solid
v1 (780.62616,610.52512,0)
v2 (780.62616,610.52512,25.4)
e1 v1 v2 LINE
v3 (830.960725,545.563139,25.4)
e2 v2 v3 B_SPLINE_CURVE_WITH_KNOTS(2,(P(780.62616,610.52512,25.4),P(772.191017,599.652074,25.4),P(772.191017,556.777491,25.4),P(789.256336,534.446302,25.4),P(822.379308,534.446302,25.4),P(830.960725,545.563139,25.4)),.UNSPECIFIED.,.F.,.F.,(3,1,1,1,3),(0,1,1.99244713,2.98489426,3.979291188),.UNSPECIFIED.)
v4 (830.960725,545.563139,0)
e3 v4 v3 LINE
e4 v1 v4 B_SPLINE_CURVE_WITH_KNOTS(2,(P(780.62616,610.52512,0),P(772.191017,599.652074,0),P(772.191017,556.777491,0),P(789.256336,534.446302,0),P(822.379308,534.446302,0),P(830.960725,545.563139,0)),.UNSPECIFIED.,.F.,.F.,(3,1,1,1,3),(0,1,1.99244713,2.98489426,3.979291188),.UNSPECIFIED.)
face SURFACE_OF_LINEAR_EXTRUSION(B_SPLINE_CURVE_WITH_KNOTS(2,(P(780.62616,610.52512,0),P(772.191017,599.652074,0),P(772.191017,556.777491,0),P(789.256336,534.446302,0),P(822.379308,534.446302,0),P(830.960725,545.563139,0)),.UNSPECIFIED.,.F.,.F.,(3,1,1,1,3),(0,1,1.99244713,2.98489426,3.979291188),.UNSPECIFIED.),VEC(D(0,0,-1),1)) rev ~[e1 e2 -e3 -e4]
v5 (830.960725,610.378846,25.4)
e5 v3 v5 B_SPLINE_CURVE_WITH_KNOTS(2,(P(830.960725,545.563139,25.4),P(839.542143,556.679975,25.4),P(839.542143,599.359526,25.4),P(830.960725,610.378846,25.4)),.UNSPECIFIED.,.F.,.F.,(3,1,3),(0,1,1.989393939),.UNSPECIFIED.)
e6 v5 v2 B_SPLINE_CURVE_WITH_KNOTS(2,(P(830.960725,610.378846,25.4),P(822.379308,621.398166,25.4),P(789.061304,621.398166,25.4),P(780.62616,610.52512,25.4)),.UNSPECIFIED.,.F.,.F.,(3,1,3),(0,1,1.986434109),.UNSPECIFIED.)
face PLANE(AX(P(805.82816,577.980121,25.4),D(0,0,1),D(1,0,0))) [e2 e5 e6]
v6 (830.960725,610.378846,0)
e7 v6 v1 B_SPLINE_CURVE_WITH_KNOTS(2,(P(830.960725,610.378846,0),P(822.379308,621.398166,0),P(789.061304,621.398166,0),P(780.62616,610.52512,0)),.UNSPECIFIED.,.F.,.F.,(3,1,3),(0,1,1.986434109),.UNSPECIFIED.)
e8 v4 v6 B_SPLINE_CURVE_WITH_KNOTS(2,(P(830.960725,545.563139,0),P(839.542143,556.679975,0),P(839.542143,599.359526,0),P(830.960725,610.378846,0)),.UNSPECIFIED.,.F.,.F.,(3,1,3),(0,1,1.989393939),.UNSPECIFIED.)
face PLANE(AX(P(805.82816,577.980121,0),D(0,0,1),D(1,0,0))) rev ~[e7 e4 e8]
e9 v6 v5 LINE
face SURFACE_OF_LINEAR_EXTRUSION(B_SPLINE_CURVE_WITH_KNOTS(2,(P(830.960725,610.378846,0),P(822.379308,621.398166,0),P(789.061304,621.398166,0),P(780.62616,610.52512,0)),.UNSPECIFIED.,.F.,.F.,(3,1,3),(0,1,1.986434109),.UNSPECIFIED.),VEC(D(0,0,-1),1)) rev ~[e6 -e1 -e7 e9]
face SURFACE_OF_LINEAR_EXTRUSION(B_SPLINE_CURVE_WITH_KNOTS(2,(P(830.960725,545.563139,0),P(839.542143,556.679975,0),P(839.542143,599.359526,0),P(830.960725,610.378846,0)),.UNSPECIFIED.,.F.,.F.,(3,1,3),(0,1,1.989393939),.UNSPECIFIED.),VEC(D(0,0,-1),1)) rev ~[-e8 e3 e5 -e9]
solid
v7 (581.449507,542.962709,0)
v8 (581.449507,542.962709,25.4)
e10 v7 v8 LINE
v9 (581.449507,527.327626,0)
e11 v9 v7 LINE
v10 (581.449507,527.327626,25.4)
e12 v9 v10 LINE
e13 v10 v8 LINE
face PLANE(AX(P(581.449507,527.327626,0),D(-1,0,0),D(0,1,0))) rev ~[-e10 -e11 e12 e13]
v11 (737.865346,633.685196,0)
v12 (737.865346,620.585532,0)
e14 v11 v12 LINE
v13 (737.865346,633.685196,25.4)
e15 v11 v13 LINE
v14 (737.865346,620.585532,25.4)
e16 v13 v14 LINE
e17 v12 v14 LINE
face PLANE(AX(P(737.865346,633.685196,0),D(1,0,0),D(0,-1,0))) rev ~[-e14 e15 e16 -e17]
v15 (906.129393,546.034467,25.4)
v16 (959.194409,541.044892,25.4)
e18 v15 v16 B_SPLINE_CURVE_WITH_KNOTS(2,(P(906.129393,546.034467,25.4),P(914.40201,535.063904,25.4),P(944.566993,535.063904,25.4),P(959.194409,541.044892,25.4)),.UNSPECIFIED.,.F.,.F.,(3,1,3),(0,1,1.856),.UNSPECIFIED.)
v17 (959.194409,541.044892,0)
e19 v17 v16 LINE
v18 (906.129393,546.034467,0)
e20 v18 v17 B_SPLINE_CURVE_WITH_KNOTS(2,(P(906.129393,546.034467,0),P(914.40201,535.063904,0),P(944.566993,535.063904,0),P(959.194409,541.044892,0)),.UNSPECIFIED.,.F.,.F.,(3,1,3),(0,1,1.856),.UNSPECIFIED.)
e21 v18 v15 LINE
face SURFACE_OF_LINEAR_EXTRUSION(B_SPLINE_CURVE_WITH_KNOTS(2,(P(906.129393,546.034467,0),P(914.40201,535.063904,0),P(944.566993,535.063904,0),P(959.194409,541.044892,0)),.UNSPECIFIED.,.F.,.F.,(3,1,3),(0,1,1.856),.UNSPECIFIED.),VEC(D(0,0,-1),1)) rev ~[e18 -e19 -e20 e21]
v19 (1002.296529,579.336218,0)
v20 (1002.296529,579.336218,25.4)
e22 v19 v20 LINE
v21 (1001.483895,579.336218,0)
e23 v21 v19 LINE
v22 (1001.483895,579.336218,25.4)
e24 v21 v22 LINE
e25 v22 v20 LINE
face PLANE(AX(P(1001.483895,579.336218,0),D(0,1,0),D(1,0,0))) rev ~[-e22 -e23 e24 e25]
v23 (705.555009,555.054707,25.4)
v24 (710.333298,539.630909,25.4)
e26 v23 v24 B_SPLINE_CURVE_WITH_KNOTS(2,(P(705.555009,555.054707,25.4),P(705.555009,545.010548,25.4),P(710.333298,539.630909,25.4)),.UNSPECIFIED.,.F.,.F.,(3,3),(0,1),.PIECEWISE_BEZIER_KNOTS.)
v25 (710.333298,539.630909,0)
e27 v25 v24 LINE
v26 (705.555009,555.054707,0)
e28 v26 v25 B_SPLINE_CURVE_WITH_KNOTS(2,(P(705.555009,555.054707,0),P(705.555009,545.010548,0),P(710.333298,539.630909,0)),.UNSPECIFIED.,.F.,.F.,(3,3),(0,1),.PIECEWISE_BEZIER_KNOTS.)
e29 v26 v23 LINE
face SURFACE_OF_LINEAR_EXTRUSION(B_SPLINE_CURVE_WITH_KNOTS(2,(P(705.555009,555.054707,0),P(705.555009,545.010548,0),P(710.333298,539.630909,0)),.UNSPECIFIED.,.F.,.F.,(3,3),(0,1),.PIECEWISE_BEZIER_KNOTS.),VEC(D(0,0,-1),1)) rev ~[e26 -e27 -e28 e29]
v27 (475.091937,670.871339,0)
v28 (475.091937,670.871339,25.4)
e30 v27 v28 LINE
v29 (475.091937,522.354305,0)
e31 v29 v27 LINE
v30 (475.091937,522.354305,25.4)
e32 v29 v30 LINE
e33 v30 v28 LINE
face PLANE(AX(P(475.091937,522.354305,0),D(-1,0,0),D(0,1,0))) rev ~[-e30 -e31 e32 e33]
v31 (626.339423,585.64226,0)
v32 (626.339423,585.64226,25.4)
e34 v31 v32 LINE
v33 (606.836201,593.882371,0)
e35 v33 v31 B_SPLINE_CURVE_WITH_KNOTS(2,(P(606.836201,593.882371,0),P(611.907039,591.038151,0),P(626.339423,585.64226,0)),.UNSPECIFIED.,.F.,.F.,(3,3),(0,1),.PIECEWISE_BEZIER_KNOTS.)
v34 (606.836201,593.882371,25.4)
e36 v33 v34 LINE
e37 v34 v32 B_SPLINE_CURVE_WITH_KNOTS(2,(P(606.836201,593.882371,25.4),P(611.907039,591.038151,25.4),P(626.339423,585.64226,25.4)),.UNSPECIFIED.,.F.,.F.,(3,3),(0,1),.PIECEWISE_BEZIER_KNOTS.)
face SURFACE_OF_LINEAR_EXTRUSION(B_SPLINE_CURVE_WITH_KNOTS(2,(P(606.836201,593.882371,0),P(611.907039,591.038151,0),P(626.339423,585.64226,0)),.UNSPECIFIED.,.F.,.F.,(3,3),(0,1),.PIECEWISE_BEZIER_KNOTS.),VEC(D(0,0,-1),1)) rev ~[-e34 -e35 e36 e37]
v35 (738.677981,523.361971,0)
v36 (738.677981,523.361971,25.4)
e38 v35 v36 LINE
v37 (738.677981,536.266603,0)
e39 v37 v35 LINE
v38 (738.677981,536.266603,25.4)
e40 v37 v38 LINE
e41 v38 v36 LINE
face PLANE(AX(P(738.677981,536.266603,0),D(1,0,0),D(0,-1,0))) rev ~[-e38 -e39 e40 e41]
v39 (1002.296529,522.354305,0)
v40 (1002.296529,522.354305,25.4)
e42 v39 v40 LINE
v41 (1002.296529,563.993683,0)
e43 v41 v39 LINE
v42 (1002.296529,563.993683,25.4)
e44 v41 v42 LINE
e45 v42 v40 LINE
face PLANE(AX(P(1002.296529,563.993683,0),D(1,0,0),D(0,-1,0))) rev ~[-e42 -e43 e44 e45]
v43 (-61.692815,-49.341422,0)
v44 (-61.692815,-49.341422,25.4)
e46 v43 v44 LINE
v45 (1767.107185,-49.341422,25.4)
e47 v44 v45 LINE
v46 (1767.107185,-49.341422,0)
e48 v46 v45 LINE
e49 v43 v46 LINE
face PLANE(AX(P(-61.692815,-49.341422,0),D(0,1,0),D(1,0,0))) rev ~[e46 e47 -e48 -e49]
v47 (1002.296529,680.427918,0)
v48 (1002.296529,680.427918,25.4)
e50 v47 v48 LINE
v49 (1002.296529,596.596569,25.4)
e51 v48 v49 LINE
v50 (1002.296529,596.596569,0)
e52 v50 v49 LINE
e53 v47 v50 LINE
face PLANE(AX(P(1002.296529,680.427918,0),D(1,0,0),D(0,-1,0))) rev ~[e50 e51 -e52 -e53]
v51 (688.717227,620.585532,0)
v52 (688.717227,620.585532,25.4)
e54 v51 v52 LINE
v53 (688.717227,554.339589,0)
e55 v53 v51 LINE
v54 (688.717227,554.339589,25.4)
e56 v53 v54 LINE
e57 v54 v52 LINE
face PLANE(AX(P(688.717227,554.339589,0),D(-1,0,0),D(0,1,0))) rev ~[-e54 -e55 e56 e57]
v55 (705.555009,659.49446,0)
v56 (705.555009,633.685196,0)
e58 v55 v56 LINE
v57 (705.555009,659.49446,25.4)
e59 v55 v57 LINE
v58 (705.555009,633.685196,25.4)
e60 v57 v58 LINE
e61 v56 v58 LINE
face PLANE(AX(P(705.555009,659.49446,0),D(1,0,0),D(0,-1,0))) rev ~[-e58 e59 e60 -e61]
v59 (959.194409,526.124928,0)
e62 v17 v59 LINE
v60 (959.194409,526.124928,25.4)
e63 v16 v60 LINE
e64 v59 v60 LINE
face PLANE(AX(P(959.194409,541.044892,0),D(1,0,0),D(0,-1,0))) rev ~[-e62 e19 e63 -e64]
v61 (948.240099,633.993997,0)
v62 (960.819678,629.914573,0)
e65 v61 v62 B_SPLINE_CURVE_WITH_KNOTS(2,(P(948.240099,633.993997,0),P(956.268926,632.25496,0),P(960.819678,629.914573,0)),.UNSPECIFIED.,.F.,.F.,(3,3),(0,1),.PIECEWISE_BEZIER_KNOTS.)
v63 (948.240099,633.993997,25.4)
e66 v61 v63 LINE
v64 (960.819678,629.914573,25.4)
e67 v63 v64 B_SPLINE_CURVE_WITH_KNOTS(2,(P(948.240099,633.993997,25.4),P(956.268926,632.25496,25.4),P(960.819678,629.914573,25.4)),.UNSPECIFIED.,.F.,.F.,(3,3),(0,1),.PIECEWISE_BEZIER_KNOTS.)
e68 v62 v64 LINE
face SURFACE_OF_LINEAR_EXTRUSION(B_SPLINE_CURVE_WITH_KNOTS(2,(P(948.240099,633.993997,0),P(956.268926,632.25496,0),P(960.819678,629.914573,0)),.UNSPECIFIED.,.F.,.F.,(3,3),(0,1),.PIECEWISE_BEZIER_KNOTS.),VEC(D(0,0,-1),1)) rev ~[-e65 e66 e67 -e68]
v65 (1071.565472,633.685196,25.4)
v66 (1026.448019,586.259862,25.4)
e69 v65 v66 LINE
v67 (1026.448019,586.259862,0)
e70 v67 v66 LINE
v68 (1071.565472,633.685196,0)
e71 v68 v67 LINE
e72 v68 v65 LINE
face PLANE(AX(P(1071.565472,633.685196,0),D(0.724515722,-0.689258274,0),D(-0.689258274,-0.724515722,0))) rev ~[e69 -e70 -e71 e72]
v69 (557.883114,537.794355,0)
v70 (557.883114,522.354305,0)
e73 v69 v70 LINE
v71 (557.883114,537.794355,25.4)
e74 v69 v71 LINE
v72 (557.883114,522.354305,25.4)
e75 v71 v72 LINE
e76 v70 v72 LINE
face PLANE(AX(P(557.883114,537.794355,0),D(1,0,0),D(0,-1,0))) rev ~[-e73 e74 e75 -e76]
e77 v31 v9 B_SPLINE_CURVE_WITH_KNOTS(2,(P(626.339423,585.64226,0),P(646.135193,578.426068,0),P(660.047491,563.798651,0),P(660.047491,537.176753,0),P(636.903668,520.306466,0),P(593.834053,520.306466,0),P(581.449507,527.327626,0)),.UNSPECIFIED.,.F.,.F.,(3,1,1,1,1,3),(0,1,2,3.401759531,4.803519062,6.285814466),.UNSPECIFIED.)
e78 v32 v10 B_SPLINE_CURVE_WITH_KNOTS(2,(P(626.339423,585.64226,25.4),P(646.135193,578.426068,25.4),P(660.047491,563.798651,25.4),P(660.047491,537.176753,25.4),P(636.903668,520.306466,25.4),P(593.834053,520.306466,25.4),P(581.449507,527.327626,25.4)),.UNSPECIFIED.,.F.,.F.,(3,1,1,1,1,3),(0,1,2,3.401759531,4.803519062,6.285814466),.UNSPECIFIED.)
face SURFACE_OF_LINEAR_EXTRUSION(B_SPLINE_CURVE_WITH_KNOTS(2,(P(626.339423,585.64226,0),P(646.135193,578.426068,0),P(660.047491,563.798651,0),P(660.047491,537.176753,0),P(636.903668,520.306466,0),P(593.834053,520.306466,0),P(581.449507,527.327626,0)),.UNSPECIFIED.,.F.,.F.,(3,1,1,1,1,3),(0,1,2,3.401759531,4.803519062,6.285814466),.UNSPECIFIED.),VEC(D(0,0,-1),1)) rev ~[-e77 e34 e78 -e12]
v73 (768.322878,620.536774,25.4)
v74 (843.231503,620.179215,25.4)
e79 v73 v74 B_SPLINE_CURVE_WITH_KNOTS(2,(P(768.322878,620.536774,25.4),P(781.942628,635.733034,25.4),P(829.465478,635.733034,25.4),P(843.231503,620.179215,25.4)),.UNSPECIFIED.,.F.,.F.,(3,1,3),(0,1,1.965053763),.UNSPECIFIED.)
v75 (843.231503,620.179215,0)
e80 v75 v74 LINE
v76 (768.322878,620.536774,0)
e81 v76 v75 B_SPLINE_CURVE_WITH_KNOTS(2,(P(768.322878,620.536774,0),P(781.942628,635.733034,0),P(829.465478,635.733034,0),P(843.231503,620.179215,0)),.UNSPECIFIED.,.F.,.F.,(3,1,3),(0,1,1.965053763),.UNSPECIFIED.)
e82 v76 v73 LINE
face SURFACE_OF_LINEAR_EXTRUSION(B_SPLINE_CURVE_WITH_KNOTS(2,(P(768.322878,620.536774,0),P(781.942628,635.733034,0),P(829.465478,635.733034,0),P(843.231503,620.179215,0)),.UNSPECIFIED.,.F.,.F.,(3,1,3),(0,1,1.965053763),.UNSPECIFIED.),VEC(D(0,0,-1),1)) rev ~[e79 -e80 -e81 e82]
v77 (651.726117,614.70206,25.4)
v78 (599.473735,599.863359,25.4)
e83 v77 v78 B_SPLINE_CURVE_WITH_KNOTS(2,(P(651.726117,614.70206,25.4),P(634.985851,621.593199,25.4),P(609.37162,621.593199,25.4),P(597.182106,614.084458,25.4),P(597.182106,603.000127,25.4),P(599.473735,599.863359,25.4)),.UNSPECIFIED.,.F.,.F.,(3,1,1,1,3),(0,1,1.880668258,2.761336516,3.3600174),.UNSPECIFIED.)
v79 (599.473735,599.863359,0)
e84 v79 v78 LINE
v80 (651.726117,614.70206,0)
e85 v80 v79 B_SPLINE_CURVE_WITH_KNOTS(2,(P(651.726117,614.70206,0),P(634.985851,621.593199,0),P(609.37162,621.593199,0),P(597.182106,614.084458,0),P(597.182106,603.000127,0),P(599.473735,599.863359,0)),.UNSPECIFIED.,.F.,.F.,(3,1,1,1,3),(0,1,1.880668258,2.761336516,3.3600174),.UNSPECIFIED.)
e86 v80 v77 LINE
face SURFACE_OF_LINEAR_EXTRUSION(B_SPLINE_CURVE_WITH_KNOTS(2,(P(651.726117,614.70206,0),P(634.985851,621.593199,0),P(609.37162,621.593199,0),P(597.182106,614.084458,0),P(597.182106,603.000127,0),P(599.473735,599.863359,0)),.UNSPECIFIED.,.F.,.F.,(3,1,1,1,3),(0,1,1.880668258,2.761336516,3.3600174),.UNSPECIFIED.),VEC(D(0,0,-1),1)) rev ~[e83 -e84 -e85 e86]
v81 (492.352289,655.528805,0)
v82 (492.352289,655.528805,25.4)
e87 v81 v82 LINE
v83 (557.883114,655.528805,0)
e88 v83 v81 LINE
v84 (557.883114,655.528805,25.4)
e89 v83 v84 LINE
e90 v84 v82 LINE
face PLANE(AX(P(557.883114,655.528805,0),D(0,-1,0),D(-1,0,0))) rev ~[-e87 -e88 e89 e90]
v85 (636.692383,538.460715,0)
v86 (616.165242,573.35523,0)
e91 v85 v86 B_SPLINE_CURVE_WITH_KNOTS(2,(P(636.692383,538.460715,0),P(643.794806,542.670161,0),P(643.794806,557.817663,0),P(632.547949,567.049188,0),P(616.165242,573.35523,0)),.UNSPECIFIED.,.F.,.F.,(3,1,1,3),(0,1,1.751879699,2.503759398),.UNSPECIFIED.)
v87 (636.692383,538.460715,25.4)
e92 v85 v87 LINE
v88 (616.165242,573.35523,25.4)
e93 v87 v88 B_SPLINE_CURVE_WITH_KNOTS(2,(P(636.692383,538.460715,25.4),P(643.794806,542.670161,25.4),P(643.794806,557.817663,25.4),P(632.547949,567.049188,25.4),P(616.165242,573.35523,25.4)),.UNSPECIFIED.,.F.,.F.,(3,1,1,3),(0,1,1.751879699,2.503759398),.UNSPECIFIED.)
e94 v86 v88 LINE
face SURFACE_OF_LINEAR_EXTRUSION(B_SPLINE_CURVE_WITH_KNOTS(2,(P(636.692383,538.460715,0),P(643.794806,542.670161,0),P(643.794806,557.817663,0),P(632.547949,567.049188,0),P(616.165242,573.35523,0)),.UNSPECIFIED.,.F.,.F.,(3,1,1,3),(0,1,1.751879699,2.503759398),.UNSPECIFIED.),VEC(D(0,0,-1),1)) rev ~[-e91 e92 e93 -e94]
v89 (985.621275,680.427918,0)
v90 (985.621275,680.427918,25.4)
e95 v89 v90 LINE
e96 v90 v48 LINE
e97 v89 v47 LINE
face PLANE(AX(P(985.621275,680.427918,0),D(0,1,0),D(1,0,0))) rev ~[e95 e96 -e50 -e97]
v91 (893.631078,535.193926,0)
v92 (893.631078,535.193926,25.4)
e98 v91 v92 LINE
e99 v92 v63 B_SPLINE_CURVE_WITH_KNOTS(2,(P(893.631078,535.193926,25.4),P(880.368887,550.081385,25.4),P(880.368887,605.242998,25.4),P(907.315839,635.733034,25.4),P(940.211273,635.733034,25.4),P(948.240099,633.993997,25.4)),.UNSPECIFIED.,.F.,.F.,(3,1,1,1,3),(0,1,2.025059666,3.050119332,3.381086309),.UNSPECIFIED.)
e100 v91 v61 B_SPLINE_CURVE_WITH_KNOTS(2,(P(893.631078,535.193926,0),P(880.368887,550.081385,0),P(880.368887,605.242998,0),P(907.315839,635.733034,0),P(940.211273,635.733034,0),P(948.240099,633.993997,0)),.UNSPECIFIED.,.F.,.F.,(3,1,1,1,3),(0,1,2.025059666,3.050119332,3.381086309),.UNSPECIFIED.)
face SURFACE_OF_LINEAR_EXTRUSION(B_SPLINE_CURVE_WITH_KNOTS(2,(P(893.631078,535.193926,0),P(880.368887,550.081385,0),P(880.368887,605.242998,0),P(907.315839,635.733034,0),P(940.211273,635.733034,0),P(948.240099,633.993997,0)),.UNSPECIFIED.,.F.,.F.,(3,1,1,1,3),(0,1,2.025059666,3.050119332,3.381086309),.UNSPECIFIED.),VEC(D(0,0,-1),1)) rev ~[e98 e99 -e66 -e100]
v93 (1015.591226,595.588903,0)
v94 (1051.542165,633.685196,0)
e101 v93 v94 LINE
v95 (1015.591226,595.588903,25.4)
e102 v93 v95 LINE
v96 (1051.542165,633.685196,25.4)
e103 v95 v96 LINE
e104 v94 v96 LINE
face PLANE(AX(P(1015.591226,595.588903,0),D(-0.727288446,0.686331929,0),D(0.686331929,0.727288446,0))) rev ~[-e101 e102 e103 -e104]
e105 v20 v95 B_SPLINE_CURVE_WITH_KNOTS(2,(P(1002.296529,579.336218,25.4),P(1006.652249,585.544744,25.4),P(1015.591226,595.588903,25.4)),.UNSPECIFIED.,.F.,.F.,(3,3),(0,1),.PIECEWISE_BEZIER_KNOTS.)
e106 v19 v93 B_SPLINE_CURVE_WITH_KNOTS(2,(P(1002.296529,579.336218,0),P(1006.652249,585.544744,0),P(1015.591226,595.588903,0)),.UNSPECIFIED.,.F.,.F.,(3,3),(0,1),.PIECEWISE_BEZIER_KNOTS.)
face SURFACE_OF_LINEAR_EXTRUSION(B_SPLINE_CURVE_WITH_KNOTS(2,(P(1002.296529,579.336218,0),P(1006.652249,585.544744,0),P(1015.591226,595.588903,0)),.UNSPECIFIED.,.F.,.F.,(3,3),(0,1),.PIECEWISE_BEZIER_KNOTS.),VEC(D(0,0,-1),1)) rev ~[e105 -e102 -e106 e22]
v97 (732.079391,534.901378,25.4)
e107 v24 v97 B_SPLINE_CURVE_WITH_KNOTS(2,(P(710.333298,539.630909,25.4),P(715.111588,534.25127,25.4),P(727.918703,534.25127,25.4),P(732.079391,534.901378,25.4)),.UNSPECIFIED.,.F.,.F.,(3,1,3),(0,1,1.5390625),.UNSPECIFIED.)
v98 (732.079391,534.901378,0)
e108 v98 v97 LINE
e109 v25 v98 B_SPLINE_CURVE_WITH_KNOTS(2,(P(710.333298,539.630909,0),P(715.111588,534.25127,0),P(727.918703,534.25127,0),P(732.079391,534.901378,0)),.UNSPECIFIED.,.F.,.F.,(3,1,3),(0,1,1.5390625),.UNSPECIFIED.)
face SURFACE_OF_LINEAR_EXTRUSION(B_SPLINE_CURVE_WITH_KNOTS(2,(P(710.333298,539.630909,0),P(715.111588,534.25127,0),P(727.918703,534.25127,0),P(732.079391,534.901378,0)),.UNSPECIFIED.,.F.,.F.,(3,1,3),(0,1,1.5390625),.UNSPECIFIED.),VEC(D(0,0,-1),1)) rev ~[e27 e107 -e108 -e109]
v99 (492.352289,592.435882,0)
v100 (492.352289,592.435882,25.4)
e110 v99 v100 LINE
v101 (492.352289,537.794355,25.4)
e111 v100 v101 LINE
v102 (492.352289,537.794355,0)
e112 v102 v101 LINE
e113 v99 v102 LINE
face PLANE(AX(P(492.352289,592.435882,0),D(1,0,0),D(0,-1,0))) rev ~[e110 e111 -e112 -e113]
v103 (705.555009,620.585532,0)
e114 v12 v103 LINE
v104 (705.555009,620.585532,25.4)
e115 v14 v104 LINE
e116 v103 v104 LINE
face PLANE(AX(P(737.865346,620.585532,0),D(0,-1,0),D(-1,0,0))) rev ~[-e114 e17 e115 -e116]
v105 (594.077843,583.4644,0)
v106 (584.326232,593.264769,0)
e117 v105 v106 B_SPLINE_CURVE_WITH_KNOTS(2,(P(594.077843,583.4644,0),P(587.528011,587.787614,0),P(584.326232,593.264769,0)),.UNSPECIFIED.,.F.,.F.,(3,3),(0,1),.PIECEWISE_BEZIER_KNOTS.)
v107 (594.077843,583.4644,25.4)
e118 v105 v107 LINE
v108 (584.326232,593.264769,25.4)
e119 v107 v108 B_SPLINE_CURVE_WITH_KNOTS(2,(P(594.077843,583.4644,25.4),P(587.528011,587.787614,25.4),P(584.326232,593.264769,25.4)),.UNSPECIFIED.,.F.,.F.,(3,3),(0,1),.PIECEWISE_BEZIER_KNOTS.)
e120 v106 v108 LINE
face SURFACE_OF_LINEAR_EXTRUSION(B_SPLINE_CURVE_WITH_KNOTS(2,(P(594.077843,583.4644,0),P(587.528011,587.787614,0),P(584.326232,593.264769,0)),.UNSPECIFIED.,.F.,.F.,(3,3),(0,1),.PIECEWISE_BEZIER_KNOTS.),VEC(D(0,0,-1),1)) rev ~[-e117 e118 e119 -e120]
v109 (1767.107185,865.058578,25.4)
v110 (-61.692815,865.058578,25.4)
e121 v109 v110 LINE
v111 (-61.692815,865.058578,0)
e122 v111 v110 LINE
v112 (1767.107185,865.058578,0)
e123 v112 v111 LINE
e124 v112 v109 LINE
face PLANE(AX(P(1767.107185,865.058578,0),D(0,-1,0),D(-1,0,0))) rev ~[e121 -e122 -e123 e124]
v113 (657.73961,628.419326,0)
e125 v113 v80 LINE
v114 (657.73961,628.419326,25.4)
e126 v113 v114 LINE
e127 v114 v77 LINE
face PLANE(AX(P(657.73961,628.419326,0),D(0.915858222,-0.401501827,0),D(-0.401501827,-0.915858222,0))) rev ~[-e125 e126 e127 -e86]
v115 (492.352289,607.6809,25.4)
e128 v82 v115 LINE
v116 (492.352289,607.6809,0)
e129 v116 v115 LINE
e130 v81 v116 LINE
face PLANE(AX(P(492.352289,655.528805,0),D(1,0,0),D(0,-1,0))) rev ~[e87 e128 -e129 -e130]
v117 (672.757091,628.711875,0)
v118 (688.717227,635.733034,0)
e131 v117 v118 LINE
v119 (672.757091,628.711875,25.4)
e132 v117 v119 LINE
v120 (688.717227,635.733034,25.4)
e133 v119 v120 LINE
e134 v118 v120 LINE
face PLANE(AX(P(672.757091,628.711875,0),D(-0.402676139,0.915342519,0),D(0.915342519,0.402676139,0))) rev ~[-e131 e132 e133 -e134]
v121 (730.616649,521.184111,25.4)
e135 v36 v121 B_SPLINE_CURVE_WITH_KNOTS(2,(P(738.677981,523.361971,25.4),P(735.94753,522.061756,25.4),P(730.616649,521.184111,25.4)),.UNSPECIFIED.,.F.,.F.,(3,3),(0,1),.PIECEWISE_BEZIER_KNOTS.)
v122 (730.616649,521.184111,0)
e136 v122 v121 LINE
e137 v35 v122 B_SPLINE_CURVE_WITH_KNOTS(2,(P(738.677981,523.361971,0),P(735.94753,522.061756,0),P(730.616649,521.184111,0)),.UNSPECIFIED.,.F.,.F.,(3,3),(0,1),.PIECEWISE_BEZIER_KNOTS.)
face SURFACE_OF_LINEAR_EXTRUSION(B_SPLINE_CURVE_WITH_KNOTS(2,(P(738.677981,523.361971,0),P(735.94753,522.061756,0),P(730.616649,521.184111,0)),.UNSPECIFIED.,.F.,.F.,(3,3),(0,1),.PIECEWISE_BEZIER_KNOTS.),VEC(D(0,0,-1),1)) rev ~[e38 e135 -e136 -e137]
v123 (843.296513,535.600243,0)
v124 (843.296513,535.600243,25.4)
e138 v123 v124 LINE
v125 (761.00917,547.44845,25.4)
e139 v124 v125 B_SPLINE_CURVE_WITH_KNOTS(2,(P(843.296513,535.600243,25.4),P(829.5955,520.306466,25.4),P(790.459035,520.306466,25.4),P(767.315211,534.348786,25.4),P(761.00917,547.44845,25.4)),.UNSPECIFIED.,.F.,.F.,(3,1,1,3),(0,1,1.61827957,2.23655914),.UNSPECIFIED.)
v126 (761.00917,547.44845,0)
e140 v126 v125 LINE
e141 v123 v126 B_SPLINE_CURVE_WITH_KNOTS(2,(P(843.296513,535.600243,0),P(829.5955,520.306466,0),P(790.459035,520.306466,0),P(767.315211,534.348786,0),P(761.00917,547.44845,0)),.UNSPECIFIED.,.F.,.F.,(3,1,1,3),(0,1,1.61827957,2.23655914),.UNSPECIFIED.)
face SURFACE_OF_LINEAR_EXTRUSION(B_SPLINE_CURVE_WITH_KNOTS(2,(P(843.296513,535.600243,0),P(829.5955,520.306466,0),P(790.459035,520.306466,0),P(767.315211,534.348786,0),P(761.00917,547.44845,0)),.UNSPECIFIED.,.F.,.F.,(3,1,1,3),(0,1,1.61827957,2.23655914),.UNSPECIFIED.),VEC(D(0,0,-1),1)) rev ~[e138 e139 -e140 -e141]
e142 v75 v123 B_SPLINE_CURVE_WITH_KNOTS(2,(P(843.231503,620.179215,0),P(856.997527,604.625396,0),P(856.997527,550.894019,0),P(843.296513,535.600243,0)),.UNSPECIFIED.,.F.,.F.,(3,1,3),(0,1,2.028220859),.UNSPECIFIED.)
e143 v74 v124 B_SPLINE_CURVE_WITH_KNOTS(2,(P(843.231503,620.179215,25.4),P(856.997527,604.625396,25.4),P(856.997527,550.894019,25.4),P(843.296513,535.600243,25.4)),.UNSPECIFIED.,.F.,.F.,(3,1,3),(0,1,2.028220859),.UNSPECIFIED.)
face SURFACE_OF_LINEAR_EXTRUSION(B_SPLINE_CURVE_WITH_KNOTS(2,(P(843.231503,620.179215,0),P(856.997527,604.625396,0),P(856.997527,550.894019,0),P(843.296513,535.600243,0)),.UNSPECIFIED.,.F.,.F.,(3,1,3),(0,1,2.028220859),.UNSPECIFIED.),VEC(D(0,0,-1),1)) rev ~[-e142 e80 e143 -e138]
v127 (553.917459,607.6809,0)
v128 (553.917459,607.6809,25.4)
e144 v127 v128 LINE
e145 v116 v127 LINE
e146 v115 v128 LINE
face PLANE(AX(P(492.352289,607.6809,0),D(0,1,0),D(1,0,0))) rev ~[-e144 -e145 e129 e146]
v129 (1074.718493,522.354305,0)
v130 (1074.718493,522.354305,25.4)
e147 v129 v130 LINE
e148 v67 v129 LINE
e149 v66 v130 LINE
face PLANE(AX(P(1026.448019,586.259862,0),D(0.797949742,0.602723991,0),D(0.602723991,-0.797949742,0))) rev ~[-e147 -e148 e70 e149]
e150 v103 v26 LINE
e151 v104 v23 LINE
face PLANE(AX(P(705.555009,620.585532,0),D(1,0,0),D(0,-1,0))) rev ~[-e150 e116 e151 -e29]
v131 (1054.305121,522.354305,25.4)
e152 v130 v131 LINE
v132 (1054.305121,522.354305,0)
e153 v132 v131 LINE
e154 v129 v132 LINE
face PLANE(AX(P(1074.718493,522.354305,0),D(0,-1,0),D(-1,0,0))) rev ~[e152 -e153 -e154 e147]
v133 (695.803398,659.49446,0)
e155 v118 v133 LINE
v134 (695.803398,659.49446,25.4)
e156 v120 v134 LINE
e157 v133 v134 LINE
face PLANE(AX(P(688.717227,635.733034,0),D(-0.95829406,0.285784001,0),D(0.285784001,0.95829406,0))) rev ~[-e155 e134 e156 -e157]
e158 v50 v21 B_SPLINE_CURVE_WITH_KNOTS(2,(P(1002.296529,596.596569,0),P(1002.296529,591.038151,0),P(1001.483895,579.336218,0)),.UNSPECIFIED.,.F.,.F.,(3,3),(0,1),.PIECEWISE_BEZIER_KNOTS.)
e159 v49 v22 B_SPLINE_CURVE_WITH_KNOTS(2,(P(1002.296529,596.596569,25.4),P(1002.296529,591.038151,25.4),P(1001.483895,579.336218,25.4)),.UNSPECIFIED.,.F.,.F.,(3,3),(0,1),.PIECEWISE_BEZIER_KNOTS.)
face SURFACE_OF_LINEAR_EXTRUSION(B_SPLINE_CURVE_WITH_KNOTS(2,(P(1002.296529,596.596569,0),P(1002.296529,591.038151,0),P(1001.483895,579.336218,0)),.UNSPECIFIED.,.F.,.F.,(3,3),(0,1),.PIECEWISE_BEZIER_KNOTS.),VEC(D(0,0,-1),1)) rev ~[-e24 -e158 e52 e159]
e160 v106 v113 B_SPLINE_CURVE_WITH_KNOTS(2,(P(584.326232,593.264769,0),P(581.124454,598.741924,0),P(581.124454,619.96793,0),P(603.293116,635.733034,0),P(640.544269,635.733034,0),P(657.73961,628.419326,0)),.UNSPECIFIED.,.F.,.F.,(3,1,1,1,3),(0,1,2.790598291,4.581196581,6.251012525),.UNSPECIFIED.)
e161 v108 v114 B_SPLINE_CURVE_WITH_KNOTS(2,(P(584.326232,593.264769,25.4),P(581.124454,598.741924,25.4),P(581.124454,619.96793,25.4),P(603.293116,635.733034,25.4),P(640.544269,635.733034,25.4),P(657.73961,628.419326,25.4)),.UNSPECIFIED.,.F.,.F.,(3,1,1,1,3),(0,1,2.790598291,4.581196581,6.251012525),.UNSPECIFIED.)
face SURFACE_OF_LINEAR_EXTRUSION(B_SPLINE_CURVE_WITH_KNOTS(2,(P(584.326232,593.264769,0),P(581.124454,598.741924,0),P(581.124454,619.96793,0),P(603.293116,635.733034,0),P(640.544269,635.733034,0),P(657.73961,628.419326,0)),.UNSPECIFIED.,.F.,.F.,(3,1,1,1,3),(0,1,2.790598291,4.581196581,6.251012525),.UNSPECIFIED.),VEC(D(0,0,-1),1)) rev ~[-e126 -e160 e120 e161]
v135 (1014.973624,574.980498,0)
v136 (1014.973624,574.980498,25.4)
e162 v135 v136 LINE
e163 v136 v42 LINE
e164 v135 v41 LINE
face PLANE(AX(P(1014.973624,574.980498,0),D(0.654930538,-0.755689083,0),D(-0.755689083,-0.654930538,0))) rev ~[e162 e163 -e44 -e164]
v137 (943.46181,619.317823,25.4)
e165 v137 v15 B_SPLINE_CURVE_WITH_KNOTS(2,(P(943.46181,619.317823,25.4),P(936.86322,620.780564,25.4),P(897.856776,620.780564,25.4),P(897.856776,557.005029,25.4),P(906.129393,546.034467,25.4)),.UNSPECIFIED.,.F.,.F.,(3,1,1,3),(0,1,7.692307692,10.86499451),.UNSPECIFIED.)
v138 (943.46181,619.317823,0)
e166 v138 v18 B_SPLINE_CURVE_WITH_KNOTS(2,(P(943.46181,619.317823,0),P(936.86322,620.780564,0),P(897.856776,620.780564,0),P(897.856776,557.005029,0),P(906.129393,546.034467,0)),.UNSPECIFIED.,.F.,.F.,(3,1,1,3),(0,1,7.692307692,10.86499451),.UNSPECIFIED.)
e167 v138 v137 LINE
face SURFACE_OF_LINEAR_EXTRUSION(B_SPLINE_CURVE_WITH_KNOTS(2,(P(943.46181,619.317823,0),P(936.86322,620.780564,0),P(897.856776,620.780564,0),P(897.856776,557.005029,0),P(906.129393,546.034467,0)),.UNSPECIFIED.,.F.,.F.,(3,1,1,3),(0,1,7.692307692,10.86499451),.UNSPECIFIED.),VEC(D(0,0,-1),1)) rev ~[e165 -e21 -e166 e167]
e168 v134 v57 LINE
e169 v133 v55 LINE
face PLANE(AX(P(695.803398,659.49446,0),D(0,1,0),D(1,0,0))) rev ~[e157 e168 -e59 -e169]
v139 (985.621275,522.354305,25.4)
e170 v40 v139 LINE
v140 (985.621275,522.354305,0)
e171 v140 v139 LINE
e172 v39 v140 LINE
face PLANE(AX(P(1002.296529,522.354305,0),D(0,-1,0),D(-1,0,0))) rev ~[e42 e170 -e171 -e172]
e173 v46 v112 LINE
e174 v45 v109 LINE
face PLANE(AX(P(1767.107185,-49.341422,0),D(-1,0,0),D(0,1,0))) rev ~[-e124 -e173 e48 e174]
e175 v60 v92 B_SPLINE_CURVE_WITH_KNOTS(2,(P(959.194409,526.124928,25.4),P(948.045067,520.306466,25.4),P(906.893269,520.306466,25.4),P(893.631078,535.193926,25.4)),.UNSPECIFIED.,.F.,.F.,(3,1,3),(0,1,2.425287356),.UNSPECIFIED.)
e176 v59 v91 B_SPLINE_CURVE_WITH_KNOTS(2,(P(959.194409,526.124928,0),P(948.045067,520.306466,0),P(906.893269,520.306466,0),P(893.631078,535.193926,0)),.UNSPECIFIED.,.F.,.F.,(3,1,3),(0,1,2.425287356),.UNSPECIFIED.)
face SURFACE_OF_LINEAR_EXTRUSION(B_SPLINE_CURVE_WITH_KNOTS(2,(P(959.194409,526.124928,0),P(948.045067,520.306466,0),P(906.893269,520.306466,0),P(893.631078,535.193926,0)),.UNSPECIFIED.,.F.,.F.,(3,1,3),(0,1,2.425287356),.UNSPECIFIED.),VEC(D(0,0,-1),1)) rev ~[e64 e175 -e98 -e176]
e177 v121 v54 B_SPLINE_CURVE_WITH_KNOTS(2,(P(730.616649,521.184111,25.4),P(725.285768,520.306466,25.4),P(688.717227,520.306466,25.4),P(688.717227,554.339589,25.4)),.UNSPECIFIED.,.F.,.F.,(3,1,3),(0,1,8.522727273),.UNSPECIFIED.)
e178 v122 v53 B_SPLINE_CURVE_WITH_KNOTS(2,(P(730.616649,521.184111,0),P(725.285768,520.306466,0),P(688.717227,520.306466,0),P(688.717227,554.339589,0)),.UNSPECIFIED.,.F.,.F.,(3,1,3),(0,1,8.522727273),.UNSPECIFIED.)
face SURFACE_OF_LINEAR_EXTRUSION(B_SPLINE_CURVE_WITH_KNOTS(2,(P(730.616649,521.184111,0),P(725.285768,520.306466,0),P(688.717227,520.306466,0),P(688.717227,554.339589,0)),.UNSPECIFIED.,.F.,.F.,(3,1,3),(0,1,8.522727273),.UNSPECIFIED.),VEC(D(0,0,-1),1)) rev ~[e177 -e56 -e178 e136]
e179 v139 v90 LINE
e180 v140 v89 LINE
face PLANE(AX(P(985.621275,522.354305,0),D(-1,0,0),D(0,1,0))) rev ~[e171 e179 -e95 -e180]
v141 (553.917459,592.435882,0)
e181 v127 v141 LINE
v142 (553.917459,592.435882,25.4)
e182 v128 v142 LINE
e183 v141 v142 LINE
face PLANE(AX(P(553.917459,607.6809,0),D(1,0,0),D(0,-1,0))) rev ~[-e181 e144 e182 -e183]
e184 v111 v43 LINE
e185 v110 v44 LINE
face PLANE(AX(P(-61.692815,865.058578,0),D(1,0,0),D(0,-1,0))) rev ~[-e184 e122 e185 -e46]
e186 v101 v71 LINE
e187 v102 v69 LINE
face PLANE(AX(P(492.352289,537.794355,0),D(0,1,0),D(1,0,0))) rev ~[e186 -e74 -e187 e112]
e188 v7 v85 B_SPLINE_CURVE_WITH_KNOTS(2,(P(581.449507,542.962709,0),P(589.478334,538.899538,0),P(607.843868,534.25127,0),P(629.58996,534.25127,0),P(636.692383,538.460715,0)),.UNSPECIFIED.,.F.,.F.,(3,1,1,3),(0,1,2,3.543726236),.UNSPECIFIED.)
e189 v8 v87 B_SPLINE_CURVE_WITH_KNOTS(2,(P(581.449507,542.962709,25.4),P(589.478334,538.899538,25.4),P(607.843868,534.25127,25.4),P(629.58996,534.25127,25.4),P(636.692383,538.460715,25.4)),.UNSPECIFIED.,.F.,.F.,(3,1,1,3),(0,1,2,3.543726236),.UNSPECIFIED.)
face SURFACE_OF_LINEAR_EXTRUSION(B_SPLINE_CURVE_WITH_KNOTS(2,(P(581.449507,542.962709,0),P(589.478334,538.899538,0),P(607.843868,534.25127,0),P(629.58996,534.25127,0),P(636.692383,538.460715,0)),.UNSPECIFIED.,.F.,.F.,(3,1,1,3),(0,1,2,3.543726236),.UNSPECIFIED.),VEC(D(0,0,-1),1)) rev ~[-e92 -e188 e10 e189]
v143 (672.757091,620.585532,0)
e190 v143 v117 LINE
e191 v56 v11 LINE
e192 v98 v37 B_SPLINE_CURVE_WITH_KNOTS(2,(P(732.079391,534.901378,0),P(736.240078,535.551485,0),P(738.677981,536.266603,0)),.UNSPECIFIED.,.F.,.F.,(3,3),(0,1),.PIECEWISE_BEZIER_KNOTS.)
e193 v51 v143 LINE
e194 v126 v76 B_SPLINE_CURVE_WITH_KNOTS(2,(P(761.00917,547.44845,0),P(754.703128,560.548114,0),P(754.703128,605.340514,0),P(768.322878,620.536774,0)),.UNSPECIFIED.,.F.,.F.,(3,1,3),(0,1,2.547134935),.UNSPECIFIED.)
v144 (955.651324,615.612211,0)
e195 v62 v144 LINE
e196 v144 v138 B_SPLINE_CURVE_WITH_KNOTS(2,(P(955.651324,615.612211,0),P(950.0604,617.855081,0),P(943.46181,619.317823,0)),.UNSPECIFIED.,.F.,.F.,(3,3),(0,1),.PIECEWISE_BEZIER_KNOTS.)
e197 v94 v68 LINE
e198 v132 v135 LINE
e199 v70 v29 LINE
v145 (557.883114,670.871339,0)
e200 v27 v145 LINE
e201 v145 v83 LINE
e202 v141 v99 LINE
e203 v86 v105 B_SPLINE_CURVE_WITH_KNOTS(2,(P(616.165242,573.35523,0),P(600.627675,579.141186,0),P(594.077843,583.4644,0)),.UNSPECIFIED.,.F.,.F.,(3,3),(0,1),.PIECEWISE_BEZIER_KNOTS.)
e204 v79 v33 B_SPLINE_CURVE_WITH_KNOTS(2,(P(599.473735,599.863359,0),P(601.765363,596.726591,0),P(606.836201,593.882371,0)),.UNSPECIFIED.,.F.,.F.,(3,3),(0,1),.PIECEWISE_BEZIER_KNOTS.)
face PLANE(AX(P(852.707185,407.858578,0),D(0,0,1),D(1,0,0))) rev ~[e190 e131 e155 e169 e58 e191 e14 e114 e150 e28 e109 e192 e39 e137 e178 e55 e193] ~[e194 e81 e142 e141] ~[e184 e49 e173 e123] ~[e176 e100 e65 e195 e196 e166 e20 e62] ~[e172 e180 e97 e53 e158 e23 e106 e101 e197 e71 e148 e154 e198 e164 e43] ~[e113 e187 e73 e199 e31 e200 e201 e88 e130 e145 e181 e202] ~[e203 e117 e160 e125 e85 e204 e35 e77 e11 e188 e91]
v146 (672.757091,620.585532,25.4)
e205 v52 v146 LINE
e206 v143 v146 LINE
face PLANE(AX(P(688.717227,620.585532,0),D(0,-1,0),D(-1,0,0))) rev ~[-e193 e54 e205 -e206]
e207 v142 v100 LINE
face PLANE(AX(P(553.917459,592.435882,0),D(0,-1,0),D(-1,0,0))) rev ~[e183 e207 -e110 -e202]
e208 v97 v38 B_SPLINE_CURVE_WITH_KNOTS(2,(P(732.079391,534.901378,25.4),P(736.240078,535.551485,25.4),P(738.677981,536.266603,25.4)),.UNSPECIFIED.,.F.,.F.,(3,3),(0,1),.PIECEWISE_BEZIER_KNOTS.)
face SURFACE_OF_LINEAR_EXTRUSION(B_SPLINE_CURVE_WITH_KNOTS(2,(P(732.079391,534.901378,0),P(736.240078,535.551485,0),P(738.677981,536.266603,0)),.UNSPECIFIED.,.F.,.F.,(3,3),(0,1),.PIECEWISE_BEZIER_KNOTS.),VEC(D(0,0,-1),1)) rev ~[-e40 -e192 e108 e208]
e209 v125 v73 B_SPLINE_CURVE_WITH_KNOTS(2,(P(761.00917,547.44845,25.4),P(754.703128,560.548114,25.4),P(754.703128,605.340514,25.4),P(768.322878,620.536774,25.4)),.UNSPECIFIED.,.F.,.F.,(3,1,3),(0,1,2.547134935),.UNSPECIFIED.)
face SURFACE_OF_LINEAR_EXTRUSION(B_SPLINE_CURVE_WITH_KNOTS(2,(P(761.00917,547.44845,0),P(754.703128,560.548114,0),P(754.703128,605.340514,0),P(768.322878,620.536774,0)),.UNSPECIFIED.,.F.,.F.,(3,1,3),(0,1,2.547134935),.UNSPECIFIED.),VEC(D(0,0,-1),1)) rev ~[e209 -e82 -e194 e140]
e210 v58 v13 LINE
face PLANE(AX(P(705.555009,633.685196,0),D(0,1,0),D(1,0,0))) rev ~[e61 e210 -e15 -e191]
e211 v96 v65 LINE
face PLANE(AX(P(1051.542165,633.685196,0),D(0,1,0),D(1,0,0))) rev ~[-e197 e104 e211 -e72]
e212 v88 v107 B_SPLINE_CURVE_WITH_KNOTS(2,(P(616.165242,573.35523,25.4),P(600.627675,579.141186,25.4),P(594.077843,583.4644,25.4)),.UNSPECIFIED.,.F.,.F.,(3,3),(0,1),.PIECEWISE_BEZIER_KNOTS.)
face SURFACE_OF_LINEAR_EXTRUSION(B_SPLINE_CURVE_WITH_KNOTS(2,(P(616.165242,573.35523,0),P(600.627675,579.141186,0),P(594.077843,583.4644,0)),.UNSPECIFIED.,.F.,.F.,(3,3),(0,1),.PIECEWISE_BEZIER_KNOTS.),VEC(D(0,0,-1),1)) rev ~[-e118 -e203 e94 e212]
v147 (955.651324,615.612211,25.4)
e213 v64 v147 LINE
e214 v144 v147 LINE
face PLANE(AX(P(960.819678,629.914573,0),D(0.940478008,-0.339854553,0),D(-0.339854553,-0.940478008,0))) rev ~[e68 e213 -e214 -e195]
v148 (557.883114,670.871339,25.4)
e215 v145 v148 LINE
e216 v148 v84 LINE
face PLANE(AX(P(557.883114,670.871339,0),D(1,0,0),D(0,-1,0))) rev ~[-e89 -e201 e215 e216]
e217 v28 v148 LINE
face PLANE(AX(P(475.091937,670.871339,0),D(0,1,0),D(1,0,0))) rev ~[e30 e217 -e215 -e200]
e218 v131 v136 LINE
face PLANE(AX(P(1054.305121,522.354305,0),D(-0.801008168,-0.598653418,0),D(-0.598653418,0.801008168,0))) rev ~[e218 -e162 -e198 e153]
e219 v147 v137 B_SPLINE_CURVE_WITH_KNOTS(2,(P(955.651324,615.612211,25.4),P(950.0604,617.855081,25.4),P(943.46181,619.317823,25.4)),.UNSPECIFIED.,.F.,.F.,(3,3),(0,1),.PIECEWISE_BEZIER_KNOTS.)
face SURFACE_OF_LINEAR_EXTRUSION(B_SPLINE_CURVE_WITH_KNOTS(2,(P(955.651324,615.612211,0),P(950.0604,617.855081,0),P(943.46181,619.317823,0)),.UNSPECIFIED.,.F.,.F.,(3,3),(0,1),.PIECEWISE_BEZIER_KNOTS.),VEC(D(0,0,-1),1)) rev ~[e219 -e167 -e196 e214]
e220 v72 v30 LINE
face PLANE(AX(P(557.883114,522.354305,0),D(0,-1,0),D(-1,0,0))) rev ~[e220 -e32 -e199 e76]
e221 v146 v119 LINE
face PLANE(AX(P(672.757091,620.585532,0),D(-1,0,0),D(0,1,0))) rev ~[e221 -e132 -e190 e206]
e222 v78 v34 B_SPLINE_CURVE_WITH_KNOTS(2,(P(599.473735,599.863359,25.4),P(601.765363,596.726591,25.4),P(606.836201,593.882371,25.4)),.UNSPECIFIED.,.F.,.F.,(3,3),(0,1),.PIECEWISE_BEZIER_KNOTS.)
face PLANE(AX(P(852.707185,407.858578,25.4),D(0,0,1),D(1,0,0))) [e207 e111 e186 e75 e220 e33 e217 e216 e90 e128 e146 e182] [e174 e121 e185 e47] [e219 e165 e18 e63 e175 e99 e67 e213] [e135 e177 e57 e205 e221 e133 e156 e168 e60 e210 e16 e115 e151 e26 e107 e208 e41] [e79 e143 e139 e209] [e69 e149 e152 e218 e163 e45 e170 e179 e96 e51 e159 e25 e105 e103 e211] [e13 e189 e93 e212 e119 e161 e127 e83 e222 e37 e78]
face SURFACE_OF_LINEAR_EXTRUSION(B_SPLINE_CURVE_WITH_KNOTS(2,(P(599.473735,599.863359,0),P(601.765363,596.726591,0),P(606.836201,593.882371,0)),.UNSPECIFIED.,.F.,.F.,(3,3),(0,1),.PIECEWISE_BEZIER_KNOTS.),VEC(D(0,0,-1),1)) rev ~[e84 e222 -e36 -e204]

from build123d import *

# Parameters (mm, degrees)
F1_DEPTH = 25.4


with BuildPart() as f1:
    # F0 (on Top) → F1 (new body)
    with BuildSketch(Plane.XY):
        Polygon((-61.692815274, 865.0585784256), (-61.692815274, -49.3414215744), (1767.107184726, -49.3414215744), (1767.107184726, 407.8585784256), (1767.107184726, 865.0585784256), align=None)
        with BuildLine():
            add(Edge.make_bspline(
                [(653.0913421884, 571.1123594083), (660.0474913139, 563.7986512156), (660.0474913139, 552.7143201325)],
                knots=[0, 0, 0, 1, 1, 1], degree=2))
            add(Edge.make_bspline(
                [(660.0474913139, 552.7143201325), (660.0474913139, 537.1767533943), (648.4755796846, 528.7416099454)],
                knots=[0, 0, 0, 1, 1, 1], degree=2))
            add(Edge.make_bspline(
                [(648.4755796846, 528.7416099454), (636.9036680553, 520.3064664965), (615.9702099394, 520.3064664965)],
                knots=[0, 0, 0, 1, 1, 1], degree=2))
            add(Edge.make_bspline(
                [(615.9702099394, 520.3064664965), (593.8340531429, 520.3064664965), (581.44950727, 527.3276263615)],
                knots=[0, 0, 0, 1, 1, 1], degree=2))
            Line((581.44950727, 527.3276263615), (581.44950727, 542.962709209))
            add(Edge.make_bspline(
                [(581.44950727, 542.962709209), (589.4783335971, 538.8995379908), (598.6611005501, 536.575404054)],
                knots=[0, 0, 0, 1, 1, 1], degree=2))
            add(Edge.make_bspline(
                [(598.6611005501, 536.575404054), (607.8438675031, 534.2512701172), (616.3927797461, 534.2512701172)],
                knots=[0, 0, 0, 1, 1, 1], degree=2))
            add(Edge.make_bspline(
                [(616.3927797461, 534.2512701172), (629.5899598626, 534.2512701172), (636.692383152, 538.4607154992)],
                knots=[0, 0, 0, 1, 1, 1], degree=2))
            add(Edge.make_bspline(
                [(636.692383152, 538.4607154992), (643.7948064413, 542.6701608812), (643.7948064413, 551.3165892335)],
                knots=[0, 0, 0, 1, 1, 1], degree=2))
            add(Edge.make_bspline(
                [(643.7948064413, 551.3165892335), (643.7948064413, 557.8176631825), (638.1713774754, 562.4334256863)],
                knots=[0, 0, 0, 1, 1, 1], degree=2))
            add(Edge.make_bspline(
                [(638.1713774754, 562.4334256863), (632.5479485095, 567.0491881901), (616.1652421579, 573.3552299207)],
                knots=[0, 0, 0, 1, 1, 1], degree=2))
            add(Edge.make_bspline(
                [(616.1652421579, 573.3552299207), (600.6276754197, 579.1411857354), (594.077843416, 583.4643999115)],
                knots=[0, 0, 0, 1, 1, 1], degree=2))
            add(Edge.make_bspline(
                [(594.077843416, 583.4643999115), (587.5280114124, 587.7876140876), (584.3262324925, 593.2647688896)],
                knots=[0, 0, 0, 1, 1, 1], degree=2))
            add(Edge.make_bspline(
                [(584.3262324925, 593.2647688896), (581.1244535726, 598.7419236917), (581.1244535726, 606.3481802121)],
                knots=[0, 0, 0, 1, 1, 1], degree=2))
            add(Edge.make_bspline(
                [(581.1244535726, 606.3481802121), (581.1244535726, 619.9679301353), (592.2087846557, 627.8504822985)],
                knots=[0, 0, 0, 1, 1, 1], degree=2))
            add(Edge.make_bspline(
                [(592.2087846557, 627.8504822985), (603.2931157388, 635.7330344617), (622.5687999977, 635.7330344617)],
                knots=[0, 0, 0, 1, 1, 1], degree=2))
            add(Edge.make_bspline(
                [(622.5687999977, 635.7330344617), (640.5442694668, 635.7330344617), (657.739610062, 628.4193262691)],
                knots=[0, 0, 0, 1, 1, 1], degree=2))
            Line((657.739610062, 628.4193262691), (651.7261166591, 614.7020602366))
            add(Edge.make_bspline(
                [(651.7261166591, 614.7020602366), (634.9858512403, 621.5931986226), (621.3661013171, 621.5931986226)],
                knots=[0, 0, 0, 1, 1, 1], degree=2))
            add(Edge.make_bspline(
                [(621.3661013171, 621.5931986226), (609.3716198811, 621.5931986226), (603.2768630539, 617.838828417)],
                knots=[0, 0, 0, 1, 1, 1], degree=2))
            add(Edge.make_bspline(
                [(603.2768630539, 617.838828417), (597.1821062267, 614.0844582114), (597.1821062267, 607.4858681532)],
                knots=[0, 0, 0, 1, 1, 1], degree=2))
            add(Edge.make_bspline(
                [(597.1821062267, 607.4858681532), (597.1821062267, 603.0001271283), (599.4737347937, 599.8633589479)],
                knots=[0, 0, 0, 1, 1, 1], degree=2))
            add(Edge.make_bspline(
                [(599.4737347937, 599.8633589479), (601.7653633608, 596.7265907675), (606.836201041, 593.8823709148)],
                knots=[0, 0, 0, 1, 1, 1], degree=2))
            add(Edge.make_bspline(
                [(606.836201041, 593.8823709148), (611.9070387213, 591.0381510621), (626.3394228881, 585.6422596844)],
                knots=[0, 0, 0, 1, 1, 1], degree=2))
            add(Edge.make_bspline(
                [(626.3394228881, 585.6422596844), (646.1351930629, 578.426067601), (653.0913421884, 571.1123594083)],
                knots=[0, 0, 0, 1, 1, 1], degree=2))
        make_face(mode=Mode.SUBTRACT)
        Polygon((557.8831142047, 537.7943554195), (557.8831142047, 522.3543047905), (475.0919374637, 522.3543047905), (475.0919374637, 670.8713391563), (557.8831142047, 670.8713391563), (557.8831142047, 655.5288046366), (492.3522887984, 655.5288046366), (492.3522887984, 607.6809003716), (553.9174590958, 607.6809003716), (553.9174590958, 592.4358819611), (492.3522887984, 592.4358819611), (492.3522887984, 537.7943554195), align=None, mode=Mode.SUBTRACT)
        with BuildLine():
            add(Edge.make_bspline(
                [(843.2315025129, 620.1792150387), (856.9975266, 604.6253956156), (856.9975266, 578.1335192733)],
                knots=[0, 0, 0, 1, 1, 1], degree=2))
            add(Edge.make_bspline(
                [(856.9975266, 578.1335192733), (856.9975266, 550.8940194268), (843.2965132524, 535.6002429617)],
                knots=[0, 0, 0, 1, 1, 1], degree=2))
            add(Edge.make_bspline(
                [(843.2965132524, 535.6002429617), (829.5954999048, 520.3064664965), (805.4115048144, 520.3064664965)],
                knots=[0, 0, 0, 1, 1, 1], degree=2))
            add(Edge.make_bspline(
                [(805.4115048144, 520.3064664965), (790.4590347316, 520.3064664965), (778.8871231023, 527.3276263615)],
                knots=[0, 0, 0, 1, 1, 1], degree=2))
            add(Edge.make_bspline(
                [(778.8871231023, 527.3276263615), (767.315211473, 534.3487862265), (761.0091697425, 547.4484502338)],
                knots=[0, 0, 0, 1, 1, 1], degree=2))
            add(Edge.make_bspline(
                [(761.0091697425, 547.4484502338), (754.7031280119, 560.5481142411), (754.7031280119, 578.1335192733)],
                knots=[0, 0, 0, 1, 1, 1], degree=2))
            add(Edge.make_bspline(
                [(754.7031280119, 578.1335192733), (754.7031280119, 605.34051375), (768.3228779351, 620.5367741059)],
                knots=[0, 0, 0, 1, 1, 1], degree=2))
            add(Edge.make_bspline(
                [(768.3228779351, 620.5367741059), (781.9426278584, 635.7330344617), (806.1266229488, 635.7330344617)],
                knots=[0, 0, 0, 1, 1, 1], degree=2))
            add(Edge.make_bspline(
                [(806.1266229488, 635.7330344617), (829.4654784258, 635.7330344617), (843.2315025129, 620.1792150387)],
                knots=[0, 0, 0, 1, 1, 1], degree=2))
        make_face(mode=Mode.SUBTRACT)
        with BuildLine():
            add(Edge.make_bspline(
                [(710.3332983097, 539.6309088101), (715.1115876622, 534.2512701172), (723.432962317, 534.2512701172)],
                knots=[0, 0, 0, 1, 1, 1], degree=2))
            add(Edge.make_bspline(
                [(723.432962317, 534.2512701172), (727.9187033419, 534.2512701172), (732.0793906692, 534.9013775121)],
                knots=[0, 0, 0, 1, 1, 1], degree=2))
            add(Edge.make_bspline(
                [(732.0793906692, 534.9013775121), (736.2400779966, 535.551484907), (738.6779807275, 536.2666030414)],
                knots=[0, 0, 0, 1, 1, 1], degree=2))
            Line((738.6779807275, 536.2666030414), (738.6779807275, 523.3619712526))
            add(Edge.make_bspline(
                [(738.6779807275, 523.3619712526), (735.9475296689, 522.0617564628), (730.6166490307, 521.1841114797)],
                knots=[0, 0, 0, 1, 1, 1], degree=2))
            add(Edge.make_bspline(
                [(730.6166490307, 521.1841114797), (725.2857683925, 520.3064664965), (720.9950595861, 520.3064664965)],
                knots=[0, 0, 0, 1, 1, 1], degree=2))
            add(Edge.make_bspline(
                [(720.9950595861, 520.3064664965), (688.7172274292, 520.3064664965), (688.7172274292, 554.3395886198)],
                knots=[0, 0, 0, 1, 1, 1], degree=2))
            Line((688.7172274292, 554.3395886198), (688.7172274292, 620.5855321605))
            Line((688.7172274292, 620.5855321605), (672.7570908843, 620.5855321605))
            Line((672.7570908843, 620.5855321605), (672.7570908843, 628.7118745968))
            Line((672.7570908843, 628.7118745968), (688.7172274292, 635.7330344617))
            Line((688.7172274292, 635.7330344617), (695.8033980336, 659.4944597455))
            Line((695.8033980336, 659.4944597455), (705.5550089572, 659.4944597455))
            Line((705.5550089572, 659.4944597455), (705.5550089572, 633.6851961678))
            Line((705.5550089572, 633.6851961678), (737.8653464839, 633.6851961678))
            Line((737.8653464839, 633.6851961678), (737.8653464839, 620.5855321605))
            Line((737.8653464839, 620.5855321605), (705.5550089572, 620.5855321605))
            Line((705.5550089572, 620.5855321605), (705.5550089572, 555.0547067542))
            add(Edge.make_bspline(
                [(705.5550089572, 555.0547067542), (705.5550089572, 545.0105475029), (710.3332983097, 539.6309088101)],
                knots=[0, 0, 0, 1, 1, 1], degree=2))
        make_face(mode=Mode.SUBTRACT)
        with BuildLine():
            add(Edge.make_bspline(
                [(959.1944090789, 526.1249276809), (948.0450672563, 520.3064664965), (931.0772642493, 520.3064664965)],
                knots=[0, 0, 0, 1, 1, 1], degree=2))
            add(Edge.make_bspline(
                [(931.0772642493, 520.3064664965), (906.8932691589, 520.3064664965), (893.6310783029, 535.1939258398)],
                knots=[0, 0, 0, 1, 1, 1], degree=2))
            add(Edge.make_bspline(
                [(893.6310783029, 535.1939258398), (880.3688874468, 550.0813851831), (880.3688874468, 577.3208850296)],
                knots=[0, 0, 0, 1, 1, 1], degree=2))
            add(Edge.make_bspline(
                [(880.3688874468, 577.3208850296), (880.3688874468, 605.2429976407), (893.8423632062, 620.4880160512)],
                knots=[0, 0, 0, 1, 1, 1], degree=2))
            add(Edge.make_bspline(
                [(893.8423632062, 620.4880160512), (907.3158389656, 635.7330344617), (932.1824468207, 635.7330344617)],
                knots=[0, 0, 0, 1, 1, 1], degree=2))
            add(Edge.make_bspline(
                [(932.1824468207, 635.7330344617), (940.2112731477, 635.7330344617), (948.2400994748, 633.9939971804)],
                knots=[0, 0, 0, 1, 1, 1], degree=2))
            add(Edge.make_bspline(
                [(948.2400994748, 633.9939971804), (956.2689258019, 632.254959899), (960.8196775662, 629.9145732773)],
                knots=[0, 0, 0, 1, 1, 1], degree=2))
            Line((960.8196775662, 629.9145732773), (955.6513237767, 615.6122105895))
            add(Edge.make_bspline(
                [(955.6513237767, 615.6122105895), (950.0604001805, 617.8550811019), (943.4618101222, 619.3178227404)],
                knots=[0, 0, 0, 1, 1, 1], degree=2))
            add(Edge.make_bspline(
                [(943.4618101222, 619.3178227404), (936.863220064, 620.7805643789), (931.7923823837, 620.7805643789)],
                knots=[0, 0, 0, 1, 1, 1], degree=2))
            add(Edge.make_bspline(
                [(931.7923823837, 620.7805643789), (897.8567763697, 620.7805643789), (897.8567763697, 577.5159172481)],
                knots=[0, 0, 0, 1, 1, 1], degree=2))
            add(Edge.make_bspline(
                [(897.8567763697, 577.5159172481), (897.8567763697, 557.0050289389), (906.1293929699, 546.0344666499)],
                knots=[0, 0, 0, 1, 1, 1], degree=2))
            add(Edge.make_bspline(
                [(906.1293929699, 546.0344666499), (914.40200957, 535.0639043609), (930.6546944426, 535.0639043609)],
                knots=[0, 0, 0, 1, 1, 1], degree=2))
            add(Edge.make_bspline(
                [(930.6546944426, 535.0639043609), (944.5669926936, 535.0639043609), (959.1944090789, 541.044892394)],
                knots=[0, 0, 0, 1, 1, 1], degree=2))
            Line((959.1944090789, 541.044892394), (959.1944090789, 526.1249276809))
        make_face(mode=Mode.SUBTRACT)
        with BuildLine():
            Line((1001.4838951174, 579.3362179538), (1002.296529361, 579.3362179538))
            add(Edge.make_bspline(
                [(1002.296529361, 579.3362179538), (1006.6522489069, 585.5447435752), (1015.5912255868, 595.5889028264)],
                knots=[0, 0, 0, 1, 1, 1], degree=2))
            Line((1015.5912255868, 595.5889028264), (1051.542164525, 633.6851961678))
            Line((1051.542164525, 633.6851961678), (1071.5654722881, 633.6851961678))
            Line((1071.5654722881, 633.6851961678), (1026.4480190817, 586.2598617096))
            Line((1026.4480190817, 586.2598617096), (1074.7184931533, 522.3543047905))
            Line((1074.7184931533, 522.3543047905), (1054.3051209534, 522.3543047905))
            Line((1054.3051209534, 522.3543047905), (1014.9736235617, 574.980498408))
            Line((1014.9736235617, 574.980498408), (1002.296529361, 563.9936834341))
            Line((1002.296529361, 563.9936834341), (1002.296529361, 522.3543047905))
            Line((1002.296529361, 522.3543047905), (985.6212746818, 522.3543047905))
            Line((985.6212746818, 522.3543047905), (985.6212746818, 680.4279178614))
            Line((985.6212746818, 680.4279178614), (1002.296529361, 680.4279178614))
            Line((1002.296529361, 680.4279178614), (1002.296529361, 596.5965692885))
            add(Edge.make_bspline(
                [(1002.296529361, 596.5965692885), (1002.296529361, 591.0381510621), (1001.4838951174, 579.3362179538)],
                knots=[0, 0, 0, 1, 1, 1], degree=2))
        make_face(mode=Mode.SUBTRACT)
    extrude(amount=F1_DEPTH)


with BuildPart() as f1b:
    # F0 (on Top) → F1, piece 2 (new body)
    with BuildSketch(Plane.XY):
        with BuildLine():
            add(Edge.make_bspline(
                [(780.6261603837, 610.5251202243), (772.1910169348, 599.6520740446), (772.1910169348, 578.1335192733)],
                knots=[0, 0, 0, 1, 1, 1], degree=2))
            add(Edge.make_bspline(
                [(772.1910169348, 578.1335192733), (772.1910169348, 556.7774913507), (780.7236764929, 545.6118968432)],
                knots=[0, 0, 0, 1, 1, 1], degree=2))
            add(Edge.make_bspline(
                [(780.7236764929, 545.6118968432), (789.256336051, 534.4463023357), (805.8015692513, 534.4463023357)],
                knots=[0, 0, 0, 1, 1, 1], degree=2))
            add(Edge.make_bspline(
                [(805.8015692513, 534.4463023357), (822.3793078214, 534.4463023357), (830.9607254341, 545.5631387886)],
                knots=[0, 0, 0, 1, 1, 1], degree=2))
            add(Edge.make_bspline(
                [(830.9607254341, 545.5631387886), (839.5421430469, 556.6799752414), (839.5421430469, 578.1335192733)],
                knots=[0, 0, 0, 1, 1, 1], degree=2))
            add(Edge.make_bspline(
                [(839.5421430469, 578.1335192733), (839.5421430469, 599.3595257169), (830.9607254341, 610.3788460605)],
                knots=[0, 0, 0, 1, 1, 1], degree=2))
            add(Edge.make_bspline(
                [(830.9607254341, 610.3788460605), (822.3793078214, 621.3981664041), (805.6065370329, 621.3981664041)],
                knots=[0, 0, 0, 1, 1, 1], degree=2))
            add(Edge.make_bspline(
                [(805.6065370329, 621.3981664041), (789.0613038326, 621.3981664041), (780.6261603837, 610.5251202243)],
                knots=[0, 0, 0, 1, 1, 1], degree=2))
        make_face()
    extrude(amount=F1_DEPTH)


solid = Compound([f1.part, f1b.part])
